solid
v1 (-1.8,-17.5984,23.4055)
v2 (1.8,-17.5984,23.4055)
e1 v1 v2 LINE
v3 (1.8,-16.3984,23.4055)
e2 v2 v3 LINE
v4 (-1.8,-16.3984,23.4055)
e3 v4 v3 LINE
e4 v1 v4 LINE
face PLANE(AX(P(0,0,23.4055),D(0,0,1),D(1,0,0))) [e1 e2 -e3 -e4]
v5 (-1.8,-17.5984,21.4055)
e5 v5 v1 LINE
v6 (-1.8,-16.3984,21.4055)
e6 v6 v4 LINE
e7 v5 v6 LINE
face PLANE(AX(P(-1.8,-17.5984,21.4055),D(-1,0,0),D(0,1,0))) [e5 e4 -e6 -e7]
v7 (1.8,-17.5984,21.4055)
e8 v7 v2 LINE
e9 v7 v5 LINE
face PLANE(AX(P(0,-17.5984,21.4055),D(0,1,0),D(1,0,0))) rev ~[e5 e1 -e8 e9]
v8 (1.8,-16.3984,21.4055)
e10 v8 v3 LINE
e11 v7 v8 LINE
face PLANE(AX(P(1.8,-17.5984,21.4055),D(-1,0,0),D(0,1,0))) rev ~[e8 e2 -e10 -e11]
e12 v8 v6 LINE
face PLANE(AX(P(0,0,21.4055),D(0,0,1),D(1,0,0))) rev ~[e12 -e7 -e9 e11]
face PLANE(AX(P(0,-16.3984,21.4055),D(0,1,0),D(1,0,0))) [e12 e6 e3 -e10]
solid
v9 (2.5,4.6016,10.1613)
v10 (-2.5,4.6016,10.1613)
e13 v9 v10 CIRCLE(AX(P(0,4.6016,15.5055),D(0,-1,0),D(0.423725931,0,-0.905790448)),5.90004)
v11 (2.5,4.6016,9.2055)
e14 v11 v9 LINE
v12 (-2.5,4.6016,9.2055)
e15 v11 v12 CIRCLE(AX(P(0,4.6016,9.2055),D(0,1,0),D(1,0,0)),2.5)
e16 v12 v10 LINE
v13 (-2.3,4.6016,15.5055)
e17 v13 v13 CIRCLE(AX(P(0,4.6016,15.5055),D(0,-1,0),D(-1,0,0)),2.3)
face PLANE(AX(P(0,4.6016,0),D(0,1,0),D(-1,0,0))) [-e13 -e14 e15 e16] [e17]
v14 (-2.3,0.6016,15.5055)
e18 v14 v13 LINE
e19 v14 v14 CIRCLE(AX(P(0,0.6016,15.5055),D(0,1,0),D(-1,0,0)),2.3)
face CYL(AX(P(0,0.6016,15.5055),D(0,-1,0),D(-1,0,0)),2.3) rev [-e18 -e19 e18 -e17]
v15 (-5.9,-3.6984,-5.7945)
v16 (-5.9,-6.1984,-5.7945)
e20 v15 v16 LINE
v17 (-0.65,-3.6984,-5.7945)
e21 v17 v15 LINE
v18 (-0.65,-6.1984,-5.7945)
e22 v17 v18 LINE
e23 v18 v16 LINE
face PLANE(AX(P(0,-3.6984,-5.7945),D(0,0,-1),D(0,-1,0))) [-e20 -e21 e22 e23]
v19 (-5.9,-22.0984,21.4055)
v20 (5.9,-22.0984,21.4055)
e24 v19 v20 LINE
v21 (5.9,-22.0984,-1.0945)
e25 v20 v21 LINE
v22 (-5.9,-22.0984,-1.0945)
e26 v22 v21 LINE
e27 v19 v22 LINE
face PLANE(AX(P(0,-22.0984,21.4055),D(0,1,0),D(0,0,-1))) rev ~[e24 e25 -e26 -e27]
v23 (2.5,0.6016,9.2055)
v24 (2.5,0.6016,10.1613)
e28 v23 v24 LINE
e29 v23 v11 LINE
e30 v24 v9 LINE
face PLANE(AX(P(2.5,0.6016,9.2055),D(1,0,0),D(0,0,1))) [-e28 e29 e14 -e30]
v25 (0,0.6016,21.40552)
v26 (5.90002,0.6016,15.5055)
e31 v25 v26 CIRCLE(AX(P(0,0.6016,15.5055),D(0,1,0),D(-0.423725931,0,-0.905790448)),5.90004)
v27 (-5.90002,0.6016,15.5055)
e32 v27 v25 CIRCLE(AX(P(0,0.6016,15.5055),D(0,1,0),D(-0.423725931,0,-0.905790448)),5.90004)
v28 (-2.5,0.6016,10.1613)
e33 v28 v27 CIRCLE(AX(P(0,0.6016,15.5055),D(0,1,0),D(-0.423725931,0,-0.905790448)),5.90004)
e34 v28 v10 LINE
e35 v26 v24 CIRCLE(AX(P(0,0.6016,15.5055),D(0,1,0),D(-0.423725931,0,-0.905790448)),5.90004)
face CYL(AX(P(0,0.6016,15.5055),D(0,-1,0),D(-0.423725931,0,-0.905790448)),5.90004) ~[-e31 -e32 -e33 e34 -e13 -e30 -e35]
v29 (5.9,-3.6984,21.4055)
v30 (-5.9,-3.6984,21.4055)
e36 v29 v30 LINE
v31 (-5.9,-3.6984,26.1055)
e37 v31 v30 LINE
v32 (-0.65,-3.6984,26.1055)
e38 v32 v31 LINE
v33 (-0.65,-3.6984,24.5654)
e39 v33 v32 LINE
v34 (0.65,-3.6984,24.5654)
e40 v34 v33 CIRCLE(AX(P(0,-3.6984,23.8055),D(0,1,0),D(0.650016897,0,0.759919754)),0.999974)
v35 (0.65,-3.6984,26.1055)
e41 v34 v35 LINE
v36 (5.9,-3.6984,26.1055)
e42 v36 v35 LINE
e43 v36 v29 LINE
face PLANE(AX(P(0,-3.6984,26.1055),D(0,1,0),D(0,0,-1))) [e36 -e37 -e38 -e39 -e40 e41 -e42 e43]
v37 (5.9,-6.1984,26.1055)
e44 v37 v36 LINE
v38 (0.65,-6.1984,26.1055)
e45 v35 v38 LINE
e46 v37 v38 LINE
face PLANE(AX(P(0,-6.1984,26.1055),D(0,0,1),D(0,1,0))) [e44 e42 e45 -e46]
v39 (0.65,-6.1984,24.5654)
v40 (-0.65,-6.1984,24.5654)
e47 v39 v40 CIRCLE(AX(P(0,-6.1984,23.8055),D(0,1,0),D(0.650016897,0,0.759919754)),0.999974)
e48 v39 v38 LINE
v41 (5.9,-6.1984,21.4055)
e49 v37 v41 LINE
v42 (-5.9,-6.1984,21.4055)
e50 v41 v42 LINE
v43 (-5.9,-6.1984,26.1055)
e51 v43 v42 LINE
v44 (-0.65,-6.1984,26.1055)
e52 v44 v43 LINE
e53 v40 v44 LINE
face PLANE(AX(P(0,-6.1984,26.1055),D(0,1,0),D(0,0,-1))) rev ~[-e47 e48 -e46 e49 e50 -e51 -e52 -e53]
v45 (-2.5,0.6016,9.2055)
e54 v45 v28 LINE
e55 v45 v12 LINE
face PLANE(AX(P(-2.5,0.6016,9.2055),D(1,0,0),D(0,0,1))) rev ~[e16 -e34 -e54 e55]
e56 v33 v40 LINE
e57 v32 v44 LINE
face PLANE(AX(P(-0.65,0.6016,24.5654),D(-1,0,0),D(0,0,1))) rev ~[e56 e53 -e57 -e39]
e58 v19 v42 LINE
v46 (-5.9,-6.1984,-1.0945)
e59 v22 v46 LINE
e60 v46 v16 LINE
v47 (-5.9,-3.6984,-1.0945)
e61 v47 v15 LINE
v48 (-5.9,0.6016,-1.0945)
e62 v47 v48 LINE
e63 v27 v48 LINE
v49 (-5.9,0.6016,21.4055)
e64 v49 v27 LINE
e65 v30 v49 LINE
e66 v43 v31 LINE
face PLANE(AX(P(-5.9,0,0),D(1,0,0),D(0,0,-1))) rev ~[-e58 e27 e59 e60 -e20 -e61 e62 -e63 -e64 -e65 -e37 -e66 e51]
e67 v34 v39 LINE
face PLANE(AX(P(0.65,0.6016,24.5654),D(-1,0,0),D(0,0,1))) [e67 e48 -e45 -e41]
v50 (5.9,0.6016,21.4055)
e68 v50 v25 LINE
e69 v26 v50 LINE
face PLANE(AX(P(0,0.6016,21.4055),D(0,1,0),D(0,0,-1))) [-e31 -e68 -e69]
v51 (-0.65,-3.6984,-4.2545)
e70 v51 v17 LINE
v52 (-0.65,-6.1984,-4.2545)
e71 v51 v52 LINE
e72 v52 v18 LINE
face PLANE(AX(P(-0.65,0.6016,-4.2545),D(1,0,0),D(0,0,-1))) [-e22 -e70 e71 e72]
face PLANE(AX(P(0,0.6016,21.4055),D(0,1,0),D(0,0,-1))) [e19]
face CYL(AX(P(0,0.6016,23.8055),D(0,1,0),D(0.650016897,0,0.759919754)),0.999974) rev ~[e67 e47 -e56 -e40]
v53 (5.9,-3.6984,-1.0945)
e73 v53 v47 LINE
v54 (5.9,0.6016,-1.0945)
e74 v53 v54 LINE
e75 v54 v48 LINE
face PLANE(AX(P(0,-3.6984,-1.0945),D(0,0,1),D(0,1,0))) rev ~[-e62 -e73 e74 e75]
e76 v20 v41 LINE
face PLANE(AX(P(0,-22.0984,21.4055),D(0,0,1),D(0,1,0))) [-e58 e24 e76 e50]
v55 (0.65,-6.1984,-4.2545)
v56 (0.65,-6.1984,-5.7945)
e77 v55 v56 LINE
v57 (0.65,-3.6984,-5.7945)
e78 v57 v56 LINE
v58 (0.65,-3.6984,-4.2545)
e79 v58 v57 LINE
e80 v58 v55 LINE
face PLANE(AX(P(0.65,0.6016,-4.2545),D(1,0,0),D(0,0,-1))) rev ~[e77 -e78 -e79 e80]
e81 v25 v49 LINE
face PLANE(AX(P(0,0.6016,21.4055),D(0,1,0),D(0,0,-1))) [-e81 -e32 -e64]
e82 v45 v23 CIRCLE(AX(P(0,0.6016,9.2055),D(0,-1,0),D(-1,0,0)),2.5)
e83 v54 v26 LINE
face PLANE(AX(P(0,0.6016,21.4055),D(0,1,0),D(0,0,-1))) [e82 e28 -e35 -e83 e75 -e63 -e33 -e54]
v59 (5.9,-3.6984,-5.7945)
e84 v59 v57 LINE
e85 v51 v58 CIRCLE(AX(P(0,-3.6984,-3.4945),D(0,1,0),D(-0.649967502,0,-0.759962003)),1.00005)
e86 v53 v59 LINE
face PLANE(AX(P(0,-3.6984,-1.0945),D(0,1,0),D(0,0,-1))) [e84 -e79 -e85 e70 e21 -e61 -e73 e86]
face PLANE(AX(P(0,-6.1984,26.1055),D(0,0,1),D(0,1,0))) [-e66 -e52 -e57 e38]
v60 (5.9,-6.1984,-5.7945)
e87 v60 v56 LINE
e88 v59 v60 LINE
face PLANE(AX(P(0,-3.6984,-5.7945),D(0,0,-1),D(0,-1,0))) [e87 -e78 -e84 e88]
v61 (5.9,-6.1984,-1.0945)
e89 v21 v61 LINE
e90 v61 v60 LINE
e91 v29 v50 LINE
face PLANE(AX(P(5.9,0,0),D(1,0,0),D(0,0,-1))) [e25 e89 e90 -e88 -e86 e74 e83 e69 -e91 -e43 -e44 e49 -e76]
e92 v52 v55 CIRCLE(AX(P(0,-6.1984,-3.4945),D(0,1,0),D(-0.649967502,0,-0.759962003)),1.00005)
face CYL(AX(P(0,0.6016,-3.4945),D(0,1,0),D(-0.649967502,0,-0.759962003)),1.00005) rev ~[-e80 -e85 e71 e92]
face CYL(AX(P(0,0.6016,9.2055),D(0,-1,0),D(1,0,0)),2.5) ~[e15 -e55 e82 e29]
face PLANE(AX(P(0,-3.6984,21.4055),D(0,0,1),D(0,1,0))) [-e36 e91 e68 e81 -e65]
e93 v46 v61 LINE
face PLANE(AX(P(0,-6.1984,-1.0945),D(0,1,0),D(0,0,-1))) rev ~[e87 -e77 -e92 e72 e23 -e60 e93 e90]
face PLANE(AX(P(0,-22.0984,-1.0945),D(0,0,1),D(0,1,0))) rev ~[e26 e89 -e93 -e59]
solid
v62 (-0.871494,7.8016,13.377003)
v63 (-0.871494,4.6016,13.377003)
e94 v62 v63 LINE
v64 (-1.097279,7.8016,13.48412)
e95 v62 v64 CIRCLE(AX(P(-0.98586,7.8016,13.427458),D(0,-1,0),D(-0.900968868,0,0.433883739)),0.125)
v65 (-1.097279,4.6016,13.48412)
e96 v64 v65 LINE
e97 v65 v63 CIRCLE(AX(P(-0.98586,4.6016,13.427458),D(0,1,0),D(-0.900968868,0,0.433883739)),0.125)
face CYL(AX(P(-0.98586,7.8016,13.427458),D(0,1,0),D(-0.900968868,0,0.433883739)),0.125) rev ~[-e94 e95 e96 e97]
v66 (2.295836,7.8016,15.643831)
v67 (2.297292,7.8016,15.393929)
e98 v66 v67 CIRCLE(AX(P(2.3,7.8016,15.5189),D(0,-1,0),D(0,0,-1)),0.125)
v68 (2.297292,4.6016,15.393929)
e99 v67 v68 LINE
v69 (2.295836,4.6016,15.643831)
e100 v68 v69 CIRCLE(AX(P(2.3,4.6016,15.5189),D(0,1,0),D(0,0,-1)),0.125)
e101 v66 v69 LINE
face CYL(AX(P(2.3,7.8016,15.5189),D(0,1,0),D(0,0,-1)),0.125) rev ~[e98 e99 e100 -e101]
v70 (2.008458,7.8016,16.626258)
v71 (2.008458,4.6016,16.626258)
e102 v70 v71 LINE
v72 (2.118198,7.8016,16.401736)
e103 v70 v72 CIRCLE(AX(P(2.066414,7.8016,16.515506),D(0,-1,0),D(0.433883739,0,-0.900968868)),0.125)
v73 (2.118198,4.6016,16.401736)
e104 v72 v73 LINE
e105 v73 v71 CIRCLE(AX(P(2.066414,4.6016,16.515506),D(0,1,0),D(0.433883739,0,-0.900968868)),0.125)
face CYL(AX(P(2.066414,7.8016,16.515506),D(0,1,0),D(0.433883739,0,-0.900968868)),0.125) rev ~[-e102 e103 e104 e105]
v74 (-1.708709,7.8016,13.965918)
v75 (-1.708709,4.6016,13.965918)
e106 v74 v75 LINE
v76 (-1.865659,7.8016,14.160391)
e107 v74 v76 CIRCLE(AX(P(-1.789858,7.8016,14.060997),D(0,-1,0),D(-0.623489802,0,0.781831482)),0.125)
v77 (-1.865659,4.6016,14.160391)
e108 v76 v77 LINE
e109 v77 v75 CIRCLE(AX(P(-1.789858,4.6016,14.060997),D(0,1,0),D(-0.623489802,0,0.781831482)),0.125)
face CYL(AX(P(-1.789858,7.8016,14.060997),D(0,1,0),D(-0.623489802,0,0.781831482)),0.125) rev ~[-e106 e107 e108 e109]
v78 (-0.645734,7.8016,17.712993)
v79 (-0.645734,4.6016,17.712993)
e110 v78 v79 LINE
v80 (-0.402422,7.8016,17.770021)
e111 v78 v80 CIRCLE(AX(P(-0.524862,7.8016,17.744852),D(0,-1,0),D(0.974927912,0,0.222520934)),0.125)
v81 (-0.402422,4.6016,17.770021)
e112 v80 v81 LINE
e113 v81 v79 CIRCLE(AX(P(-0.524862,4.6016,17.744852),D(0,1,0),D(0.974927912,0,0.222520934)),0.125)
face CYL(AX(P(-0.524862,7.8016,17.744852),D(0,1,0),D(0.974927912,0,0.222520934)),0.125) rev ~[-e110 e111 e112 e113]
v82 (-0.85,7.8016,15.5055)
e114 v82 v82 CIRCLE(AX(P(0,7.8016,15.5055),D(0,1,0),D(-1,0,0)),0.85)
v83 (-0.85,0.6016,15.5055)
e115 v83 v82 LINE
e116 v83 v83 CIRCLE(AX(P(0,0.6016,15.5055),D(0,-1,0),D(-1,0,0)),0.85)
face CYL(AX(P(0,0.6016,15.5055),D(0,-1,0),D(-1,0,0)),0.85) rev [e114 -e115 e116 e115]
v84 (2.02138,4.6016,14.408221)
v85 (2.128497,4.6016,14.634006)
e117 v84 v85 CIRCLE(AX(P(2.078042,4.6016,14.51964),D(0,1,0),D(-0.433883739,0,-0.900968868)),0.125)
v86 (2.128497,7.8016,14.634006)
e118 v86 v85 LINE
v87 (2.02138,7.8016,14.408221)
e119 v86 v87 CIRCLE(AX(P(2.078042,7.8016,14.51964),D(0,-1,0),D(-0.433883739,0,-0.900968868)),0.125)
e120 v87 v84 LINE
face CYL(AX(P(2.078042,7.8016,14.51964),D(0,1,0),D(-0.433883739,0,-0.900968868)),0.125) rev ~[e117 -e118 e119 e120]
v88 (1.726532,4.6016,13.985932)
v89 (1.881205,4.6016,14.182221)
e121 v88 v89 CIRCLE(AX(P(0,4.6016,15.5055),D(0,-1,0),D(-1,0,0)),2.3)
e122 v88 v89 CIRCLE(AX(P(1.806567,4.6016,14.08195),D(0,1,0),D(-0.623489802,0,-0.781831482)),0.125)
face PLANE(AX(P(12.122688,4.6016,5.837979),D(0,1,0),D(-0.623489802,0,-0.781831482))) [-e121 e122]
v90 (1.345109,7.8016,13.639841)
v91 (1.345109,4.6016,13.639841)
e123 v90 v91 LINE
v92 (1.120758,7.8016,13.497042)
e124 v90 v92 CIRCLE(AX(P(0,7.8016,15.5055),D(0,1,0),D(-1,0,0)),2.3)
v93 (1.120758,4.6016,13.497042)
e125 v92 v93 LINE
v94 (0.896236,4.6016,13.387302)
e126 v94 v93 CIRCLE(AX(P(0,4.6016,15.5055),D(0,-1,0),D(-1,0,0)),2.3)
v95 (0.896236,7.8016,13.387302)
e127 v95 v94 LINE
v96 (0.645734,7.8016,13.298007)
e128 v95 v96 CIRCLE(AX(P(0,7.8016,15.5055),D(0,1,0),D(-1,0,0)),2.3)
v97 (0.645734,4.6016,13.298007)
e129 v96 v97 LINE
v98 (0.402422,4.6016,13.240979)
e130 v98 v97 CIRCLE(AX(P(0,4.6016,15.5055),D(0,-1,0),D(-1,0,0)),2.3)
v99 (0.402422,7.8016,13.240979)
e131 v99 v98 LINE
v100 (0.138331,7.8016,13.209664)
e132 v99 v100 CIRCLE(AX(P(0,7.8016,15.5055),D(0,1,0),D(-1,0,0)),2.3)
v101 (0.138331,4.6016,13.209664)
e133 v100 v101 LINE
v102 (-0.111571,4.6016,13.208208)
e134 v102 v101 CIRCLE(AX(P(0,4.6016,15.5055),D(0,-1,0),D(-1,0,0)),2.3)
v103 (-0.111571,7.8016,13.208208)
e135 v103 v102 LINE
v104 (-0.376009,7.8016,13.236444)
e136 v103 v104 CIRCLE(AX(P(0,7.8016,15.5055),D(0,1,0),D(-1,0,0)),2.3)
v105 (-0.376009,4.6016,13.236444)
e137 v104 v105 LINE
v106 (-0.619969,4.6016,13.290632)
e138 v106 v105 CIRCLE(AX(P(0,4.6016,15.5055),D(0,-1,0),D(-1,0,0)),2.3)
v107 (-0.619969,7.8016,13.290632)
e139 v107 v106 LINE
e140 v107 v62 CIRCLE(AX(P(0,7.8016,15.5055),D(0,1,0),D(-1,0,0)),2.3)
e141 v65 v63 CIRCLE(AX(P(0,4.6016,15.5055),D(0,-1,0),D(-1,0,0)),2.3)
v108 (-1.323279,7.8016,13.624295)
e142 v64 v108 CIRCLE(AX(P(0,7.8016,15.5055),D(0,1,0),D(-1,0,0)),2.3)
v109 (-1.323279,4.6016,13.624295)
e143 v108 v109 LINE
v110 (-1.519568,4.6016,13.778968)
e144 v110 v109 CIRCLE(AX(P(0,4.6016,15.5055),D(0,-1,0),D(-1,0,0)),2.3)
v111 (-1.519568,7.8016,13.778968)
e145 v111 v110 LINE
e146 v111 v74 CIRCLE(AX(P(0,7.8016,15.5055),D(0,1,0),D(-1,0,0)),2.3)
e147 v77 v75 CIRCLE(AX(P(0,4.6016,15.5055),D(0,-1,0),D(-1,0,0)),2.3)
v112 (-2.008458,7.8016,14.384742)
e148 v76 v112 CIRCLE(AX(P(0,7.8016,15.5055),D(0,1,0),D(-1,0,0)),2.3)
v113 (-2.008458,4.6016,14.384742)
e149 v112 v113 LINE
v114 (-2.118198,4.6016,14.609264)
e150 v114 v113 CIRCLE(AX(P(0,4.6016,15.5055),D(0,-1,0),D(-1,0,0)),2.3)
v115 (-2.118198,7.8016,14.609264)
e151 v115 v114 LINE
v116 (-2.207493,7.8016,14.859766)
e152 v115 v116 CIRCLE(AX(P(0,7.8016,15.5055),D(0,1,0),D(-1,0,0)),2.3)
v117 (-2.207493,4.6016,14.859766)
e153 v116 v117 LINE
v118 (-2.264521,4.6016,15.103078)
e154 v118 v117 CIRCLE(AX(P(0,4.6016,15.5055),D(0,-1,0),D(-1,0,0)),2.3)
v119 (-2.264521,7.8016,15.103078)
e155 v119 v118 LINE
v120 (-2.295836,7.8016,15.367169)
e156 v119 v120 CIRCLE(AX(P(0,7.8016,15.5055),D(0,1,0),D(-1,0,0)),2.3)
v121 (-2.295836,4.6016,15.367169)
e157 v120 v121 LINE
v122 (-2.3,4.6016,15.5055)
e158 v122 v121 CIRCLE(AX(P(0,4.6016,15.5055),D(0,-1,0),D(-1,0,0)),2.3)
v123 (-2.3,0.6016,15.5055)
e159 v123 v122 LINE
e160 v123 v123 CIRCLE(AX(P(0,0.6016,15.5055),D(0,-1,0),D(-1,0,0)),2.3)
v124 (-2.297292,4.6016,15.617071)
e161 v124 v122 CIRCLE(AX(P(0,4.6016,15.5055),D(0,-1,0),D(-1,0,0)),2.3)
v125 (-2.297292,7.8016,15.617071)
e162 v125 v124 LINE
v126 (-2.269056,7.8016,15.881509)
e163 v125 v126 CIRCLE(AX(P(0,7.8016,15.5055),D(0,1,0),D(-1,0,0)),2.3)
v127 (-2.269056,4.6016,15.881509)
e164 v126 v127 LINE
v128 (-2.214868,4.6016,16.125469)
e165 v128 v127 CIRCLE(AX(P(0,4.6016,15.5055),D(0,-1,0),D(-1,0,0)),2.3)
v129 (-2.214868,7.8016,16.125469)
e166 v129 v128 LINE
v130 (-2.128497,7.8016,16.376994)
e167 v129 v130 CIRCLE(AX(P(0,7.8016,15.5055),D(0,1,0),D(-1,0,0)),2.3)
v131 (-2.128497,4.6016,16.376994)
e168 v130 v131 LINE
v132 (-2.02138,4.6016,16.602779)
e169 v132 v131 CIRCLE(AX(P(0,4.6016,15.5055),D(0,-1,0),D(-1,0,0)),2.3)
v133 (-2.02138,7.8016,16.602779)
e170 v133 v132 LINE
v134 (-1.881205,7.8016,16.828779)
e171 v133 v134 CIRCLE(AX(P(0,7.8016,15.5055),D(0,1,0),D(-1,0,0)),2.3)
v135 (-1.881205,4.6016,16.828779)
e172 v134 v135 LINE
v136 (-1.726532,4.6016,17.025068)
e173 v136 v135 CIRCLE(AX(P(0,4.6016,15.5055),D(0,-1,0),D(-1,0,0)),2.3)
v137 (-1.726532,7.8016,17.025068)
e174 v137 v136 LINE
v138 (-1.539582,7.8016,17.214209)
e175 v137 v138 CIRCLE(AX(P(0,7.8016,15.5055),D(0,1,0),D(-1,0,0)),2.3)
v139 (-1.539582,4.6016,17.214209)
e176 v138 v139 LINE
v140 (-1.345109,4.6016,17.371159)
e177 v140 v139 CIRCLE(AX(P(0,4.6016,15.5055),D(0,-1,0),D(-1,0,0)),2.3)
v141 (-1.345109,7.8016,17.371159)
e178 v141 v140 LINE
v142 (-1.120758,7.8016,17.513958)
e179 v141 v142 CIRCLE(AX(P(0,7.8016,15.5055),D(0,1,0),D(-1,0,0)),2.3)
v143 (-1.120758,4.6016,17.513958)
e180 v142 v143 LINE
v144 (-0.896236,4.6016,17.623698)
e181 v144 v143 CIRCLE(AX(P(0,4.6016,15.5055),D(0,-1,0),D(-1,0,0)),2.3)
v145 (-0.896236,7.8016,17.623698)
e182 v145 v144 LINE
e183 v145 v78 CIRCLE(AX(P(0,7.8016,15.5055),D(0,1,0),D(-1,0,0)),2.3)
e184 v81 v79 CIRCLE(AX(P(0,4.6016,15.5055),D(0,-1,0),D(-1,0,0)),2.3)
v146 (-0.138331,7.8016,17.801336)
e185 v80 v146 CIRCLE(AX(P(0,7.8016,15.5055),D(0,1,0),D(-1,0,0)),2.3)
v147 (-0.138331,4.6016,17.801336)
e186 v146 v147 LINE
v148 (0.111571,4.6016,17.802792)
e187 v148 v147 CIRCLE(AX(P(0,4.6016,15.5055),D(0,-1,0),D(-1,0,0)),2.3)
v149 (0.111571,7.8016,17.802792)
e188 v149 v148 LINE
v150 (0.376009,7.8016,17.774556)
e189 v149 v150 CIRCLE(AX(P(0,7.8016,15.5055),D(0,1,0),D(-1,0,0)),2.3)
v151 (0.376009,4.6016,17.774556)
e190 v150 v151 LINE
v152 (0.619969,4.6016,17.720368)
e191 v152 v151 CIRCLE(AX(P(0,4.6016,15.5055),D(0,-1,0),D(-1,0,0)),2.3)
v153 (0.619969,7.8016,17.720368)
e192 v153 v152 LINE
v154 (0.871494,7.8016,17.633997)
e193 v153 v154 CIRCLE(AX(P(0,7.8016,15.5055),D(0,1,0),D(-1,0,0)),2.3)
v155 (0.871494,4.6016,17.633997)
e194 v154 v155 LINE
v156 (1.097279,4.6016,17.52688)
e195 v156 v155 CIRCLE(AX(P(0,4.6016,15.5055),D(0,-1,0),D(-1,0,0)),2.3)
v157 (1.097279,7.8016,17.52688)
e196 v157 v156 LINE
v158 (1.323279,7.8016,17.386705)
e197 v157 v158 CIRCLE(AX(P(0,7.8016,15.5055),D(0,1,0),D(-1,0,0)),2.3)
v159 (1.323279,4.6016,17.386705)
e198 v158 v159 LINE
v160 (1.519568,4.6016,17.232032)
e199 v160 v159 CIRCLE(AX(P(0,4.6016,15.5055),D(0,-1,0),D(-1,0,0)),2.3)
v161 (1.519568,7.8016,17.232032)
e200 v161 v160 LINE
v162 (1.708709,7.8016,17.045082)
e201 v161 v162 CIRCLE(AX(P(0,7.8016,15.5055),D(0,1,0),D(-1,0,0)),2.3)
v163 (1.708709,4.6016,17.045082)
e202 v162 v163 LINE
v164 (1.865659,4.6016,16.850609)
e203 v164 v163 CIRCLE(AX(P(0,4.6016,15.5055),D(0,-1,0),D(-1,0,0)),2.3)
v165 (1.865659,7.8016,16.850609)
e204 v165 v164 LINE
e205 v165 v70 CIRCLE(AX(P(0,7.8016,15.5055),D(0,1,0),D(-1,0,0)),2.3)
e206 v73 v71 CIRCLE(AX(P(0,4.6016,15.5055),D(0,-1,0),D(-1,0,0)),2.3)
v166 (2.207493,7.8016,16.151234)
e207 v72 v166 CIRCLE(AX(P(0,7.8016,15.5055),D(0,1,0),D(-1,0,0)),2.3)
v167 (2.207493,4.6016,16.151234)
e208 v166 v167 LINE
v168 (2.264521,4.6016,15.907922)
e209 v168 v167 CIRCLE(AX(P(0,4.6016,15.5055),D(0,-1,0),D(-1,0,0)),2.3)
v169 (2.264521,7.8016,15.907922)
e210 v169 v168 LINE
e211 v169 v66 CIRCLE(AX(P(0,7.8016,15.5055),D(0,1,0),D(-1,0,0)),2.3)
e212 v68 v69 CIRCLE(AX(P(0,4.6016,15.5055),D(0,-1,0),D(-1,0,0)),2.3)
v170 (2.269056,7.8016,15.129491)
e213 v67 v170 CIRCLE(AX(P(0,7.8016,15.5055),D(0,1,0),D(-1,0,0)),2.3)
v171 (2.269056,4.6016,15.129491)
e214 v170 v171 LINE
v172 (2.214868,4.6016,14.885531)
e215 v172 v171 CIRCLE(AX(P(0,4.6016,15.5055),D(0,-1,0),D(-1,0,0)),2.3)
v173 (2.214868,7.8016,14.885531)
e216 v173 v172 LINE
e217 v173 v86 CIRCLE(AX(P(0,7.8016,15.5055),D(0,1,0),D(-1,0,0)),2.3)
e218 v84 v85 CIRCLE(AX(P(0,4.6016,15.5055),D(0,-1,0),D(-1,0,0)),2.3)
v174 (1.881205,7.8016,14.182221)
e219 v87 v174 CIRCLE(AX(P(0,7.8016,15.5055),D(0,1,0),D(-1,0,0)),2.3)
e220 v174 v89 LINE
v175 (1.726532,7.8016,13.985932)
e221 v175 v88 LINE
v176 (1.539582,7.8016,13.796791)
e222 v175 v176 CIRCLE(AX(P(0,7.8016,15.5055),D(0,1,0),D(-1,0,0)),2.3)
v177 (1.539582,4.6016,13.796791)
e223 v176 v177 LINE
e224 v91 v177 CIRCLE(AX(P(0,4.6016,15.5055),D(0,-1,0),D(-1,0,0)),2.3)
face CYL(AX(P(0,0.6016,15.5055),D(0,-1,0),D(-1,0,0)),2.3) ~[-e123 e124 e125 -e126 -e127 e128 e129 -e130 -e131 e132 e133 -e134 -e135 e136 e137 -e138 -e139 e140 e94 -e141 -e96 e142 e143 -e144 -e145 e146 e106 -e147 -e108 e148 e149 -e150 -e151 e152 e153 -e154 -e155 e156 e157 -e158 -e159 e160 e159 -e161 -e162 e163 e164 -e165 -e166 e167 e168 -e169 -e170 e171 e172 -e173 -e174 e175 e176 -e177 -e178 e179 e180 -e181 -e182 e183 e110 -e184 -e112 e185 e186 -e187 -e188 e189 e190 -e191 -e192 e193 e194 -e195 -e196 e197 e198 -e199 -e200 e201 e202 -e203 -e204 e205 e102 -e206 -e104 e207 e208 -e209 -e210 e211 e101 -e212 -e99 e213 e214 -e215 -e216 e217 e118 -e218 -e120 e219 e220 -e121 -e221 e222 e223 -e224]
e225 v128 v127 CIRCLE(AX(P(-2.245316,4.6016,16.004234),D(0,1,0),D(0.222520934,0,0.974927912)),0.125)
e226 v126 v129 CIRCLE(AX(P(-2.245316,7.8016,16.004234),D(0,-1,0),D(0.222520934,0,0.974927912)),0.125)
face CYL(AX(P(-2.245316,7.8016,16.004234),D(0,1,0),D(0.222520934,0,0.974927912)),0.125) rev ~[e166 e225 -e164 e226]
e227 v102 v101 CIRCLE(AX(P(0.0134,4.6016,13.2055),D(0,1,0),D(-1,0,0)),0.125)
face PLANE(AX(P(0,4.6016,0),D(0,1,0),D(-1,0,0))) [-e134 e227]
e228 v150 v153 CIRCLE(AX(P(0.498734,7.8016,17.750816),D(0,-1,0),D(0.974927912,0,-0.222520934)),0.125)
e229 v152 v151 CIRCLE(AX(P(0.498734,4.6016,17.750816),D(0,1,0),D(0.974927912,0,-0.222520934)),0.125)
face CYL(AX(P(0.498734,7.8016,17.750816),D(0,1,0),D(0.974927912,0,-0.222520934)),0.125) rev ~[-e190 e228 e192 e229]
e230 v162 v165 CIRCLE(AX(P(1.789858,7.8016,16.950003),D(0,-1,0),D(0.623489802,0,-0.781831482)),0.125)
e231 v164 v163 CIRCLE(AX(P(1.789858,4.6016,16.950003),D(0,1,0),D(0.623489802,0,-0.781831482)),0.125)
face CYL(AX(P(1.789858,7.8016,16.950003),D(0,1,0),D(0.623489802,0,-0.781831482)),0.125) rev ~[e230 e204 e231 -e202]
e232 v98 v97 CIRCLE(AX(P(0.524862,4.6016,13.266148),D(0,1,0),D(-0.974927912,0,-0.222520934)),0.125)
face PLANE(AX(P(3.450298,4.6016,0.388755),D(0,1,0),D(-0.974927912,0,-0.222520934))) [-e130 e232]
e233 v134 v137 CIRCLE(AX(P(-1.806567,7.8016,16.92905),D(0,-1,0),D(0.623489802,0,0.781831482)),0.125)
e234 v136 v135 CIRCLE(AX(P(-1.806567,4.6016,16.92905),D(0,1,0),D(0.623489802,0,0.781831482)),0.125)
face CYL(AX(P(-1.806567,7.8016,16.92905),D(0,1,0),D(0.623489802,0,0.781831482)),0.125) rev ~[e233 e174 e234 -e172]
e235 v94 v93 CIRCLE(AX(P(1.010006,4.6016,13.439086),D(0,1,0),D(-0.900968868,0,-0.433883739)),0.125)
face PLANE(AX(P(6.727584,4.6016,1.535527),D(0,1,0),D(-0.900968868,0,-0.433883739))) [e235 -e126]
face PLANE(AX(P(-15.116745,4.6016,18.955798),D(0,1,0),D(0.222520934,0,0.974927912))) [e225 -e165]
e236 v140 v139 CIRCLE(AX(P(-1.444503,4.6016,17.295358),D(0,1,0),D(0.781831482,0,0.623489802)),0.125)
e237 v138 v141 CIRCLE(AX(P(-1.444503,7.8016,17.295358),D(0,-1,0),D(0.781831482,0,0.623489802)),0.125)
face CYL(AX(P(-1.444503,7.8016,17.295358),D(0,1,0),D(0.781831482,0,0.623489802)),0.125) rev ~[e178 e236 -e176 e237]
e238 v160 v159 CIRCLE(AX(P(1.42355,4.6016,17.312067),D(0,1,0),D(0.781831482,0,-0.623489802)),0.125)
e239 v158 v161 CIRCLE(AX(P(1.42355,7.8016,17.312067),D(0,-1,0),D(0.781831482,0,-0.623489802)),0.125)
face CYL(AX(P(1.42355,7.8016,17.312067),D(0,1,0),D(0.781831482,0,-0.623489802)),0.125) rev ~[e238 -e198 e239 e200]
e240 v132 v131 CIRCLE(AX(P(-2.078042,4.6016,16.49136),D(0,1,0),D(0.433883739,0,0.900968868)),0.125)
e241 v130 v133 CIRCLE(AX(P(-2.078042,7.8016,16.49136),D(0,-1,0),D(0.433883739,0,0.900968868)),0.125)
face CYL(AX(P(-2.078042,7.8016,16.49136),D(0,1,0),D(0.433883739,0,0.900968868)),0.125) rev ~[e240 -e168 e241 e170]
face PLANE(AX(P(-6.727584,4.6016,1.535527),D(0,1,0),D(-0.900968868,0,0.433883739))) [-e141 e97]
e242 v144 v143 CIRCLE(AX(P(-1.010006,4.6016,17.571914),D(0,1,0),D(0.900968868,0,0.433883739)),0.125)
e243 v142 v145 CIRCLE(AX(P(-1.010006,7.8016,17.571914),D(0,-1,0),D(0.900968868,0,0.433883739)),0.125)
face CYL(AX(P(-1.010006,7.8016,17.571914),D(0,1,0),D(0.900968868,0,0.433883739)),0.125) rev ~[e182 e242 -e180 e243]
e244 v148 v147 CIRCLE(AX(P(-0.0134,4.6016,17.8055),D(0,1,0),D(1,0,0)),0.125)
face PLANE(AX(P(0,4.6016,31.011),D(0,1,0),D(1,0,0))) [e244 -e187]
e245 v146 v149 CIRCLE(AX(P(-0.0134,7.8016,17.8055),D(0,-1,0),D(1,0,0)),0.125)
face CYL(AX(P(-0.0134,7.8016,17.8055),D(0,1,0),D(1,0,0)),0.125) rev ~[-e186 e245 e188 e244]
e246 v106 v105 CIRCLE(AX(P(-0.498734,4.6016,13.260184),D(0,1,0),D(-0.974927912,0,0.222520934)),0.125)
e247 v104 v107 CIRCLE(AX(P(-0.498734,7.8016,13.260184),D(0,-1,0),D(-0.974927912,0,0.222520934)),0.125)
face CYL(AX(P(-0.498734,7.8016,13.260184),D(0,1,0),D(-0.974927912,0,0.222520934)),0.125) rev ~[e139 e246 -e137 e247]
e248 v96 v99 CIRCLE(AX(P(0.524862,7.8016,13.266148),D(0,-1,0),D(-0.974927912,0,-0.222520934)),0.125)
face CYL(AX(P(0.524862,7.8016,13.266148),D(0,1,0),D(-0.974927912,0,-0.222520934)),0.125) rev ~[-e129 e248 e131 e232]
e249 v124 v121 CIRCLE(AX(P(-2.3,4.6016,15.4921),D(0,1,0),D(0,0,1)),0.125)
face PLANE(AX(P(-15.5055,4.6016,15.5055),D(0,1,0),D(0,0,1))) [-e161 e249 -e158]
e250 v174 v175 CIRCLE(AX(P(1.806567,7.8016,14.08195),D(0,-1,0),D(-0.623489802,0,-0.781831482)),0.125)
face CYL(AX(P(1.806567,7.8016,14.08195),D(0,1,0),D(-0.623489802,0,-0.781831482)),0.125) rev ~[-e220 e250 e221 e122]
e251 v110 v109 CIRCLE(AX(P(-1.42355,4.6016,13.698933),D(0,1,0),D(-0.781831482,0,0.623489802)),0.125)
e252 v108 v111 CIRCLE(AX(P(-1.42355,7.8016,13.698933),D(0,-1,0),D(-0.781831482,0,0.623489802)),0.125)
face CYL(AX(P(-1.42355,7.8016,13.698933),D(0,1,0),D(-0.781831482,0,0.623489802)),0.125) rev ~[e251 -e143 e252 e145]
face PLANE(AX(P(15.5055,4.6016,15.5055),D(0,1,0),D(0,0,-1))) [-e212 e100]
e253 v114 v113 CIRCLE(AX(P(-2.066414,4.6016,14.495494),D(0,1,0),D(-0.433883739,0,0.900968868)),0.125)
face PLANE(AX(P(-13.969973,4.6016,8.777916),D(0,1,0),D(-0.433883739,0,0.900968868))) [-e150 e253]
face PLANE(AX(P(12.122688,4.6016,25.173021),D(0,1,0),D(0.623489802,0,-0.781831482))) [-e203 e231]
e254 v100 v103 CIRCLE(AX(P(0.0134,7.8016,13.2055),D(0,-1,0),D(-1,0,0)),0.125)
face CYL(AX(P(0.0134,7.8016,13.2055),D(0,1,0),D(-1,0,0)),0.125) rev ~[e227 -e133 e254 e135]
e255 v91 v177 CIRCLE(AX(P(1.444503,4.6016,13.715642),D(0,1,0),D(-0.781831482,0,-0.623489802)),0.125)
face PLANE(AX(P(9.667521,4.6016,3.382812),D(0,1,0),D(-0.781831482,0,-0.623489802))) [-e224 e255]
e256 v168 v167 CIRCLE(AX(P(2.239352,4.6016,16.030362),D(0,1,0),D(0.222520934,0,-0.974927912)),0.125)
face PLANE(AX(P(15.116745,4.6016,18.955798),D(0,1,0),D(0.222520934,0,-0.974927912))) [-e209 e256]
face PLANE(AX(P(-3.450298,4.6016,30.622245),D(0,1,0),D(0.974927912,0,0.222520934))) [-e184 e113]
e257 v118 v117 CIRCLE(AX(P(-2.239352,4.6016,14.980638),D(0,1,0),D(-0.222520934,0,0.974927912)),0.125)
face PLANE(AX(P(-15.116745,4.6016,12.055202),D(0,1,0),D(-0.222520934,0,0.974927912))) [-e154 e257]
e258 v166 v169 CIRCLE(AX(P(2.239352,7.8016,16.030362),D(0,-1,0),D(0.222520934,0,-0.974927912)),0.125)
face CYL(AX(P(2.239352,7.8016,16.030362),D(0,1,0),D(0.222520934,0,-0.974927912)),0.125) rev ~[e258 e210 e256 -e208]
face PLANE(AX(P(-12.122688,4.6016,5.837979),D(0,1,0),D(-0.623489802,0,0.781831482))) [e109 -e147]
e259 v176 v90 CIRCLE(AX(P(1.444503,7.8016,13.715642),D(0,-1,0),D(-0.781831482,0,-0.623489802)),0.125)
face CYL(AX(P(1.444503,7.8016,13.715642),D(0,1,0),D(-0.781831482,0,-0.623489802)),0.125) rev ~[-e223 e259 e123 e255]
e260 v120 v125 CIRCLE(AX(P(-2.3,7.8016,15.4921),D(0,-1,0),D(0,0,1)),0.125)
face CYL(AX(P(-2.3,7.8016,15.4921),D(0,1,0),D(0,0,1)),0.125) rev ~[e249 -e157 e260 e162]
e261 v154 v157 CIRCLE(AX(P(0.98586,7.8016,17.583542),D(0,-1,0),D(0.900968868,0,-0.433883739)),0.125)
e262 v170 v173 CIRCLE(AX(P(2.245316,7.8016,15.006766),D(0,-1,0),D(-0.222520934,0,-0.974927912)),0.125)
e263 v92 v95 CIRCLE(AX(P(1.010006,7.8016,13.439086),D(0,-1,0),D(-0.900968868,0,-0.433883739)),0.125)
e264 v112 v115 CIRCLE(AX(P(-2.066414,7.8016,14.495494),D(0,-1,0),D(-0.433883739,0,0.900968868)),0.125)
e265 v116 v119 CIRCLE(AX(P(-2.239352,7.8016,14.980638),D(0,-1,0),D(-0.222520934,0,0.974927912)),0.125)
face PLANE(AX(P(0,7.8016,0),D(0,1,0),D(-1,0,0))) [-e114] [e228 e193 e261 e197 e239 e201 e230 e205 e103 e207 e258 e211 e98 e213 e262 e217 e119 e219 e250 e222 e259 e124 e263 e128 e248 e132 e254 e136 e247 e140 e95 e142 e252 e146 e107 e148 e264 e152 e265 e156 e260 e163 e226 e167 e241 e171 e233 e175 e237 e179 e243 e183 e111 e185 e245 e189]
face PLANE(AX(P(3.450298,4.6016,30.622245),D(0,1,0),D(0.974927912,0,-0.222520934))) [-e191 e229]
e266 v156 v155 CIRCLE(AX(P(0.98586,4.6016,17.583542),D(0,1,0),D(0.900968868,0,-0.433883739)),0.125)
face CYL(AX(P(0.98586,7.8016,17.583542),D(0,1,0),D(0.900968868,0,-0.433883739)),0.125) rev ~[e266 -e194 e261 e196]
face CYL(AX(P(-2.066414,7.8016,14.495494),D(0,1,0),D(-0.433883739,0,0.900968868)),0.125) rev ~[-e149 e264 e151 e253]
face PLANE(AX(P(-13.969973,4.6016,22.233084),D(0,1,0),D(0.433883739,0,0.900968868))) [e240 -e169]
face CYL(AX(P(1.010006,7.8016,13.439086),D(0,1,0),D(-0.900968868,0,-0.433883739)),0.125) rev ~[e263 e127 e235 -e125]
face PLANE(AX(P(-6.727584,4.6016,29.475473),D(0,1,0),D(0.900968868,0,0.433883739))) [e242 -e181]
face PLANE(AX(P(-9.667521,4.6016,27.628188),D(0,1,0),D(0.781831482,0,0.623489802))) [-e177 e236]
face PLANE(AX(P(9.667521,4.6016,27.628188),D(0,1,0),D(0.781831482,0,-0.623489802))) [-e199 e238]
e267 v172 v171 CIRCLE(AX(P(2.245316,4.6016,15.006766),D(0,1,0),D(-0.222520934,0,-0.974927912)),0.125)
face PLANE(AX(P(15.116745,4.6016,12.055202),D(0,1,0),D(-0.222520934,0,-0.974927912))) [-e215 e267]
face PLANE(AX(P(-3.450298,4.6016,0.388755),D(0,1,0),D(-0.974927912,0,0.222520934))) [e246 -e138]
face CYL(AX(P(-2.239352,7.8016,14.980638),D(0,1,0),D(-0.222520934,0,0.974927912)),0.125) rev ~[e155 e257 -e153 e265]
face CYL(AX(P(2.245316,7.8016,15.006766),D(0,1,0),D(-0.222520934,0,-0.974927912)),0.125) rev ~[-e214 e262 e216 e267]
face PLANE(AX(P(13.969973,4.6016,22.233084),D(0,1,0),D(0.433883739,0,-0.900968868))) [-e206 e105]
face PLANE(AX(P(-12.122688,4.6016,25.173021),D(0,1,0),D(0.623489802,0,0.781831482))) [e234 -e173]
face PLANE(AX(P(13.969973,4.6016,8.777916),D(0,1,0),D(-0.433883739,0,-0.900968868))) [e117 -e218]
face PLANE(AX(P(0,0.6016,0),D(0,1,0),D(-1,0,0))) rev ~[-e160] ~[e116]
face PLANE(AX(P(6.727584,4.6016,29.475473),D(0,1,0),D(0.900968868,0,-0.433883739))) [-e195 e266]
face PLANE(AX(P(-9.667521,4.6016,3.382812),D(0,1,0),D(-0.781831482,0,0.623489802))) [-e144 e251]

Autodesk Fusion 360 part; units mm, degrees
sketch "Left" plane through (0, 0, 0) normal (1, 0, 0) x (0, 0, -1)
  line L0 (-21.4055, -22.0984) -> (1.0945, -22.0984)
  line L1 (-21.4055, 4.6016) -> (1.0945, 4.6016)
  line L2 (-21.4055, 0.6016) -> (1.0945, 0.6016)
  line L3 (-21.4055, 0.6016) -> (-21.4055, 4.6016)
  line L4 (5.7945, -22.0984) -> (5.7945, -6.1984)
  line L5 (-26.1055, -6.1984) -> (-26.1055, -3.6984)
  line L6 (-26.1055, -3.6984) -> (-21.4055, -3.6984)
  line L7 (1.0945, -3.6984) -> (5.7945, -3.6984)
  line L8 (-26.1055, -6.1984) -> (-21.4055, -6.1984)
  line L9 (1.0945, -6.1984) -> (5.7945, -6.1984)
  line L10 (1.0945, -22.0984) -> (1.0945, -6.1984)
  line L11 (1.0945, -3.6984) -> (1.0945, 0.6016)
  line L12 (-21.4055, -22.0984) -> (-21.4055, -6.1984)
  line L13 (-21.4055, -3.6984) -> (-21.4055, 0.6016)
  line L14 (-15.5055, 0.6016) -> (-15.5055, 13)
  line L15 (-6.7055, 0.6016) -> (-6.7055, 13)
  line L16 (1.0945, -22.0984) -> (1.0945, -6.1984)
  line L17 (1.0945, -3.6984) -> (1.0945, 13)
  line L18 (5.7945, -3.6984) -> (5.7945, -6.1984)
  dimension "d1" = 22.5
  dimension "d2" = 26.7
  dimension "d3" = 22.7
  dimension "d4" = 4
  dimension "d5" = 22.7
  dimension "d13" = 5.9
extrude "Extrude1" add sketch "Left" along normal mid plane 11.8 contours L0 L2 L5 L6 L7 L8 L9 L10 L11 L12 L13 L16 L17 L18 makes body 1
sketch "TOP" plane through (0, 0.6016, 0) normal (0, 1, 0) x (-1, 0, 0)
  line L0 (5.9, 21.4055) -> (-5.9, 21.4055)
  line L1 (-5.9, 21.4055) -> (-5.9, -1.0945)
  line L2 (-5.9, -1.0945) -> (5.9, -1.0945)
  line L3 (5.9, -1.0945) -> (5.9, 21.4055)
  circle A0 centre (0, 15.5055) radius 2.3
  circle A1 centre (0, 15.5055) radius 0.85
  line L4 (0, -1.0945) -> (0, 27)
  line L5 (0, 27) -> (0, -1.0945)
  arc A2 (-2.5, 9.2055) -> (2.5, 9.2055) centre (0, 9.2055) ccw
  line L6 (-2.5, 9.2055) -> (-2.5, 10.1613)
  line L7 (2.5, 9.2055) -> (2.5, 10.1613)
  arc A3 (2.5, 10.1613) -> (-2.5, 10.1613) centre (0, 15.5055) ccw
  line L8 (5.9, -5.7945) -> (-5.9, -5.7945)
  line L9 (-0.65, -4.2545) -> (-0.65, -5.7945)
  line L10 (0.65, -4.2545) -> (0.65, -5.7945)
  arc A4 (0.65, -4.2545) -> (-0.65, -4.2545) centre (0, -3.4945) ccw
  line L11 (5.9, 26.1055) -> (-5.9, 26.1055)
  arc A5 (-0.65, 24.5654) -> (0.65, 24.5654) centre (0, 23.8055) ccw
  line L12 (0.65, 24.5654) -> (0.65, 26.1055)
  line L13 (-0.65, 24.5654) -> (-0.65, 26.1055)
  point P0 (0, 15.5055)
  point P1 (0, 6.7055)
  point P2 (0, -1.0945)
  point P3 (5.9, -5.7945)
  point P4 (-5.9, -5.7945)
  point P5 (0, -5.7945)
  point P6 (5.9, 26.1055)
  point P7 (-5.9, 26.1055)
  point P8 (0, 26.1055)
  point P9 (0, 21.4055)
  dimension "d16" = 4.6
  dimension "d17" = 1.7
  dimension "d18" = 11.8
  dimension "d27" = 2
  dimension "d31" = 2
extrude "Extrude2" add sketch "TOP" along normal blind 4 contours A0 L4 L5 A2 L7 A3 | A0 L4 L5 A2 L6 A3 bodies 1
extrude "Extrude3" add sketch "TOP" along normal blind 7.2 separate body contours A0 A1 L4 L5 | A0 A1 L4 L5 makes body 2
extrude "Extrude4" cut sketch "TOP" against normal through all contours L4 L5 L11 A5 L13 | L4 L5 L11 A5 L12 bodies 1
extrude "Extrude5" cut sketch "TOP" against normal through all contours L8 L9 L10 A4 bodies 1
sketch "Front" plane through (0, 0, 21.4055) normal (0, 0, 1) x (1, 0, 0)
  line L0 (-5.9, -22.0984) -> (5.9, -22.0984)
  line L1 (5.9, -22.0984) -> (5.9, -6.1984)
  line L2 (5.9, -6.1984) -> (-5.9, -6.1984)
  line L3 (-5.9, -6.1984) -> (-5.9, -22.0984)
  line L4 (-1.8, -17.5984) -> (1.8, -17.5984)
  line L5 (0, -22.0984) -> (0, -6.1984)
  line L6 (1.8, -17.5984) -> (1.8, -16.3984)
  line L7 (-1.8, -17.5984) -> (-1.8, -16.3984)
  line L8 (-1.8, -16.3984) -> (1.8, -16.3984)
extrude "Extrude6" add sketch "Front" along normal blind 2 separate body contours L4 L5 L6 L8 | L4 L5 L7 L8 makes body 3
copy_body "Body->Comp1" bodies 3 removing the originals makes body 4 in component "Prikljiček"
copy_body "Body->Comp2" bodies 2 removing the originals makes body 5 in component "OSovina"
copy_body "Body->Comp3" bodies 1 removing the originals makes body 6 in component "Ohisje"
sketch "Sketch1" plane through (0, 7.8016, 0) normal (0, 1, 0) x (-1, 0, 0) in component "OSovina"
  circle A0 centre (0, 15.5055) radius 0.85
  circle A1 centre (0, 15.5055) radius 2.3
  circle A2 centre (0, 15.5055) radius 2.3
  circle A3 centre (-0.0134, 13.2055) radius 0.125
  dimension "d42" = 0.25
extrude "Extrude1'" cut sketch "Sketch1" against normal up to surface (3.2 mm away) contours A1 A2 A3 | A1 A2 A3 picked at (-0.0101, 13.2473) picked at (-0.0141, 13.1641) bodies 5 in component "OSovina"
pattern_circular "C-Pattern1" count 28 over 360 about axis through (0, 15.4797, 15.5055) along (0, -1, 0) of "Extrude1'" in component "OSovina"
component "SG90 Servo" placed x (1, 0, 0) y (0, 1, 0) z (0, 0, 1) at (0, 0, 0)
component "Prikljiček" placed x (1, 0, 0) y (0, 1, 0) z (0, 0, 1) at (0, 0, 0) in component "SG90 Servo"
component "OSovina" placed x (1, 0, 0) y (0, 1, 0) z (0, 0, 1) at (0, 0, 0) in component "SG90 Servo"
component "Ohisje" placed x (1, 0, 0) y (0, 1, 0) z (0, 0, 1) at (0, 0, 0) in component "SG90 Servo"
